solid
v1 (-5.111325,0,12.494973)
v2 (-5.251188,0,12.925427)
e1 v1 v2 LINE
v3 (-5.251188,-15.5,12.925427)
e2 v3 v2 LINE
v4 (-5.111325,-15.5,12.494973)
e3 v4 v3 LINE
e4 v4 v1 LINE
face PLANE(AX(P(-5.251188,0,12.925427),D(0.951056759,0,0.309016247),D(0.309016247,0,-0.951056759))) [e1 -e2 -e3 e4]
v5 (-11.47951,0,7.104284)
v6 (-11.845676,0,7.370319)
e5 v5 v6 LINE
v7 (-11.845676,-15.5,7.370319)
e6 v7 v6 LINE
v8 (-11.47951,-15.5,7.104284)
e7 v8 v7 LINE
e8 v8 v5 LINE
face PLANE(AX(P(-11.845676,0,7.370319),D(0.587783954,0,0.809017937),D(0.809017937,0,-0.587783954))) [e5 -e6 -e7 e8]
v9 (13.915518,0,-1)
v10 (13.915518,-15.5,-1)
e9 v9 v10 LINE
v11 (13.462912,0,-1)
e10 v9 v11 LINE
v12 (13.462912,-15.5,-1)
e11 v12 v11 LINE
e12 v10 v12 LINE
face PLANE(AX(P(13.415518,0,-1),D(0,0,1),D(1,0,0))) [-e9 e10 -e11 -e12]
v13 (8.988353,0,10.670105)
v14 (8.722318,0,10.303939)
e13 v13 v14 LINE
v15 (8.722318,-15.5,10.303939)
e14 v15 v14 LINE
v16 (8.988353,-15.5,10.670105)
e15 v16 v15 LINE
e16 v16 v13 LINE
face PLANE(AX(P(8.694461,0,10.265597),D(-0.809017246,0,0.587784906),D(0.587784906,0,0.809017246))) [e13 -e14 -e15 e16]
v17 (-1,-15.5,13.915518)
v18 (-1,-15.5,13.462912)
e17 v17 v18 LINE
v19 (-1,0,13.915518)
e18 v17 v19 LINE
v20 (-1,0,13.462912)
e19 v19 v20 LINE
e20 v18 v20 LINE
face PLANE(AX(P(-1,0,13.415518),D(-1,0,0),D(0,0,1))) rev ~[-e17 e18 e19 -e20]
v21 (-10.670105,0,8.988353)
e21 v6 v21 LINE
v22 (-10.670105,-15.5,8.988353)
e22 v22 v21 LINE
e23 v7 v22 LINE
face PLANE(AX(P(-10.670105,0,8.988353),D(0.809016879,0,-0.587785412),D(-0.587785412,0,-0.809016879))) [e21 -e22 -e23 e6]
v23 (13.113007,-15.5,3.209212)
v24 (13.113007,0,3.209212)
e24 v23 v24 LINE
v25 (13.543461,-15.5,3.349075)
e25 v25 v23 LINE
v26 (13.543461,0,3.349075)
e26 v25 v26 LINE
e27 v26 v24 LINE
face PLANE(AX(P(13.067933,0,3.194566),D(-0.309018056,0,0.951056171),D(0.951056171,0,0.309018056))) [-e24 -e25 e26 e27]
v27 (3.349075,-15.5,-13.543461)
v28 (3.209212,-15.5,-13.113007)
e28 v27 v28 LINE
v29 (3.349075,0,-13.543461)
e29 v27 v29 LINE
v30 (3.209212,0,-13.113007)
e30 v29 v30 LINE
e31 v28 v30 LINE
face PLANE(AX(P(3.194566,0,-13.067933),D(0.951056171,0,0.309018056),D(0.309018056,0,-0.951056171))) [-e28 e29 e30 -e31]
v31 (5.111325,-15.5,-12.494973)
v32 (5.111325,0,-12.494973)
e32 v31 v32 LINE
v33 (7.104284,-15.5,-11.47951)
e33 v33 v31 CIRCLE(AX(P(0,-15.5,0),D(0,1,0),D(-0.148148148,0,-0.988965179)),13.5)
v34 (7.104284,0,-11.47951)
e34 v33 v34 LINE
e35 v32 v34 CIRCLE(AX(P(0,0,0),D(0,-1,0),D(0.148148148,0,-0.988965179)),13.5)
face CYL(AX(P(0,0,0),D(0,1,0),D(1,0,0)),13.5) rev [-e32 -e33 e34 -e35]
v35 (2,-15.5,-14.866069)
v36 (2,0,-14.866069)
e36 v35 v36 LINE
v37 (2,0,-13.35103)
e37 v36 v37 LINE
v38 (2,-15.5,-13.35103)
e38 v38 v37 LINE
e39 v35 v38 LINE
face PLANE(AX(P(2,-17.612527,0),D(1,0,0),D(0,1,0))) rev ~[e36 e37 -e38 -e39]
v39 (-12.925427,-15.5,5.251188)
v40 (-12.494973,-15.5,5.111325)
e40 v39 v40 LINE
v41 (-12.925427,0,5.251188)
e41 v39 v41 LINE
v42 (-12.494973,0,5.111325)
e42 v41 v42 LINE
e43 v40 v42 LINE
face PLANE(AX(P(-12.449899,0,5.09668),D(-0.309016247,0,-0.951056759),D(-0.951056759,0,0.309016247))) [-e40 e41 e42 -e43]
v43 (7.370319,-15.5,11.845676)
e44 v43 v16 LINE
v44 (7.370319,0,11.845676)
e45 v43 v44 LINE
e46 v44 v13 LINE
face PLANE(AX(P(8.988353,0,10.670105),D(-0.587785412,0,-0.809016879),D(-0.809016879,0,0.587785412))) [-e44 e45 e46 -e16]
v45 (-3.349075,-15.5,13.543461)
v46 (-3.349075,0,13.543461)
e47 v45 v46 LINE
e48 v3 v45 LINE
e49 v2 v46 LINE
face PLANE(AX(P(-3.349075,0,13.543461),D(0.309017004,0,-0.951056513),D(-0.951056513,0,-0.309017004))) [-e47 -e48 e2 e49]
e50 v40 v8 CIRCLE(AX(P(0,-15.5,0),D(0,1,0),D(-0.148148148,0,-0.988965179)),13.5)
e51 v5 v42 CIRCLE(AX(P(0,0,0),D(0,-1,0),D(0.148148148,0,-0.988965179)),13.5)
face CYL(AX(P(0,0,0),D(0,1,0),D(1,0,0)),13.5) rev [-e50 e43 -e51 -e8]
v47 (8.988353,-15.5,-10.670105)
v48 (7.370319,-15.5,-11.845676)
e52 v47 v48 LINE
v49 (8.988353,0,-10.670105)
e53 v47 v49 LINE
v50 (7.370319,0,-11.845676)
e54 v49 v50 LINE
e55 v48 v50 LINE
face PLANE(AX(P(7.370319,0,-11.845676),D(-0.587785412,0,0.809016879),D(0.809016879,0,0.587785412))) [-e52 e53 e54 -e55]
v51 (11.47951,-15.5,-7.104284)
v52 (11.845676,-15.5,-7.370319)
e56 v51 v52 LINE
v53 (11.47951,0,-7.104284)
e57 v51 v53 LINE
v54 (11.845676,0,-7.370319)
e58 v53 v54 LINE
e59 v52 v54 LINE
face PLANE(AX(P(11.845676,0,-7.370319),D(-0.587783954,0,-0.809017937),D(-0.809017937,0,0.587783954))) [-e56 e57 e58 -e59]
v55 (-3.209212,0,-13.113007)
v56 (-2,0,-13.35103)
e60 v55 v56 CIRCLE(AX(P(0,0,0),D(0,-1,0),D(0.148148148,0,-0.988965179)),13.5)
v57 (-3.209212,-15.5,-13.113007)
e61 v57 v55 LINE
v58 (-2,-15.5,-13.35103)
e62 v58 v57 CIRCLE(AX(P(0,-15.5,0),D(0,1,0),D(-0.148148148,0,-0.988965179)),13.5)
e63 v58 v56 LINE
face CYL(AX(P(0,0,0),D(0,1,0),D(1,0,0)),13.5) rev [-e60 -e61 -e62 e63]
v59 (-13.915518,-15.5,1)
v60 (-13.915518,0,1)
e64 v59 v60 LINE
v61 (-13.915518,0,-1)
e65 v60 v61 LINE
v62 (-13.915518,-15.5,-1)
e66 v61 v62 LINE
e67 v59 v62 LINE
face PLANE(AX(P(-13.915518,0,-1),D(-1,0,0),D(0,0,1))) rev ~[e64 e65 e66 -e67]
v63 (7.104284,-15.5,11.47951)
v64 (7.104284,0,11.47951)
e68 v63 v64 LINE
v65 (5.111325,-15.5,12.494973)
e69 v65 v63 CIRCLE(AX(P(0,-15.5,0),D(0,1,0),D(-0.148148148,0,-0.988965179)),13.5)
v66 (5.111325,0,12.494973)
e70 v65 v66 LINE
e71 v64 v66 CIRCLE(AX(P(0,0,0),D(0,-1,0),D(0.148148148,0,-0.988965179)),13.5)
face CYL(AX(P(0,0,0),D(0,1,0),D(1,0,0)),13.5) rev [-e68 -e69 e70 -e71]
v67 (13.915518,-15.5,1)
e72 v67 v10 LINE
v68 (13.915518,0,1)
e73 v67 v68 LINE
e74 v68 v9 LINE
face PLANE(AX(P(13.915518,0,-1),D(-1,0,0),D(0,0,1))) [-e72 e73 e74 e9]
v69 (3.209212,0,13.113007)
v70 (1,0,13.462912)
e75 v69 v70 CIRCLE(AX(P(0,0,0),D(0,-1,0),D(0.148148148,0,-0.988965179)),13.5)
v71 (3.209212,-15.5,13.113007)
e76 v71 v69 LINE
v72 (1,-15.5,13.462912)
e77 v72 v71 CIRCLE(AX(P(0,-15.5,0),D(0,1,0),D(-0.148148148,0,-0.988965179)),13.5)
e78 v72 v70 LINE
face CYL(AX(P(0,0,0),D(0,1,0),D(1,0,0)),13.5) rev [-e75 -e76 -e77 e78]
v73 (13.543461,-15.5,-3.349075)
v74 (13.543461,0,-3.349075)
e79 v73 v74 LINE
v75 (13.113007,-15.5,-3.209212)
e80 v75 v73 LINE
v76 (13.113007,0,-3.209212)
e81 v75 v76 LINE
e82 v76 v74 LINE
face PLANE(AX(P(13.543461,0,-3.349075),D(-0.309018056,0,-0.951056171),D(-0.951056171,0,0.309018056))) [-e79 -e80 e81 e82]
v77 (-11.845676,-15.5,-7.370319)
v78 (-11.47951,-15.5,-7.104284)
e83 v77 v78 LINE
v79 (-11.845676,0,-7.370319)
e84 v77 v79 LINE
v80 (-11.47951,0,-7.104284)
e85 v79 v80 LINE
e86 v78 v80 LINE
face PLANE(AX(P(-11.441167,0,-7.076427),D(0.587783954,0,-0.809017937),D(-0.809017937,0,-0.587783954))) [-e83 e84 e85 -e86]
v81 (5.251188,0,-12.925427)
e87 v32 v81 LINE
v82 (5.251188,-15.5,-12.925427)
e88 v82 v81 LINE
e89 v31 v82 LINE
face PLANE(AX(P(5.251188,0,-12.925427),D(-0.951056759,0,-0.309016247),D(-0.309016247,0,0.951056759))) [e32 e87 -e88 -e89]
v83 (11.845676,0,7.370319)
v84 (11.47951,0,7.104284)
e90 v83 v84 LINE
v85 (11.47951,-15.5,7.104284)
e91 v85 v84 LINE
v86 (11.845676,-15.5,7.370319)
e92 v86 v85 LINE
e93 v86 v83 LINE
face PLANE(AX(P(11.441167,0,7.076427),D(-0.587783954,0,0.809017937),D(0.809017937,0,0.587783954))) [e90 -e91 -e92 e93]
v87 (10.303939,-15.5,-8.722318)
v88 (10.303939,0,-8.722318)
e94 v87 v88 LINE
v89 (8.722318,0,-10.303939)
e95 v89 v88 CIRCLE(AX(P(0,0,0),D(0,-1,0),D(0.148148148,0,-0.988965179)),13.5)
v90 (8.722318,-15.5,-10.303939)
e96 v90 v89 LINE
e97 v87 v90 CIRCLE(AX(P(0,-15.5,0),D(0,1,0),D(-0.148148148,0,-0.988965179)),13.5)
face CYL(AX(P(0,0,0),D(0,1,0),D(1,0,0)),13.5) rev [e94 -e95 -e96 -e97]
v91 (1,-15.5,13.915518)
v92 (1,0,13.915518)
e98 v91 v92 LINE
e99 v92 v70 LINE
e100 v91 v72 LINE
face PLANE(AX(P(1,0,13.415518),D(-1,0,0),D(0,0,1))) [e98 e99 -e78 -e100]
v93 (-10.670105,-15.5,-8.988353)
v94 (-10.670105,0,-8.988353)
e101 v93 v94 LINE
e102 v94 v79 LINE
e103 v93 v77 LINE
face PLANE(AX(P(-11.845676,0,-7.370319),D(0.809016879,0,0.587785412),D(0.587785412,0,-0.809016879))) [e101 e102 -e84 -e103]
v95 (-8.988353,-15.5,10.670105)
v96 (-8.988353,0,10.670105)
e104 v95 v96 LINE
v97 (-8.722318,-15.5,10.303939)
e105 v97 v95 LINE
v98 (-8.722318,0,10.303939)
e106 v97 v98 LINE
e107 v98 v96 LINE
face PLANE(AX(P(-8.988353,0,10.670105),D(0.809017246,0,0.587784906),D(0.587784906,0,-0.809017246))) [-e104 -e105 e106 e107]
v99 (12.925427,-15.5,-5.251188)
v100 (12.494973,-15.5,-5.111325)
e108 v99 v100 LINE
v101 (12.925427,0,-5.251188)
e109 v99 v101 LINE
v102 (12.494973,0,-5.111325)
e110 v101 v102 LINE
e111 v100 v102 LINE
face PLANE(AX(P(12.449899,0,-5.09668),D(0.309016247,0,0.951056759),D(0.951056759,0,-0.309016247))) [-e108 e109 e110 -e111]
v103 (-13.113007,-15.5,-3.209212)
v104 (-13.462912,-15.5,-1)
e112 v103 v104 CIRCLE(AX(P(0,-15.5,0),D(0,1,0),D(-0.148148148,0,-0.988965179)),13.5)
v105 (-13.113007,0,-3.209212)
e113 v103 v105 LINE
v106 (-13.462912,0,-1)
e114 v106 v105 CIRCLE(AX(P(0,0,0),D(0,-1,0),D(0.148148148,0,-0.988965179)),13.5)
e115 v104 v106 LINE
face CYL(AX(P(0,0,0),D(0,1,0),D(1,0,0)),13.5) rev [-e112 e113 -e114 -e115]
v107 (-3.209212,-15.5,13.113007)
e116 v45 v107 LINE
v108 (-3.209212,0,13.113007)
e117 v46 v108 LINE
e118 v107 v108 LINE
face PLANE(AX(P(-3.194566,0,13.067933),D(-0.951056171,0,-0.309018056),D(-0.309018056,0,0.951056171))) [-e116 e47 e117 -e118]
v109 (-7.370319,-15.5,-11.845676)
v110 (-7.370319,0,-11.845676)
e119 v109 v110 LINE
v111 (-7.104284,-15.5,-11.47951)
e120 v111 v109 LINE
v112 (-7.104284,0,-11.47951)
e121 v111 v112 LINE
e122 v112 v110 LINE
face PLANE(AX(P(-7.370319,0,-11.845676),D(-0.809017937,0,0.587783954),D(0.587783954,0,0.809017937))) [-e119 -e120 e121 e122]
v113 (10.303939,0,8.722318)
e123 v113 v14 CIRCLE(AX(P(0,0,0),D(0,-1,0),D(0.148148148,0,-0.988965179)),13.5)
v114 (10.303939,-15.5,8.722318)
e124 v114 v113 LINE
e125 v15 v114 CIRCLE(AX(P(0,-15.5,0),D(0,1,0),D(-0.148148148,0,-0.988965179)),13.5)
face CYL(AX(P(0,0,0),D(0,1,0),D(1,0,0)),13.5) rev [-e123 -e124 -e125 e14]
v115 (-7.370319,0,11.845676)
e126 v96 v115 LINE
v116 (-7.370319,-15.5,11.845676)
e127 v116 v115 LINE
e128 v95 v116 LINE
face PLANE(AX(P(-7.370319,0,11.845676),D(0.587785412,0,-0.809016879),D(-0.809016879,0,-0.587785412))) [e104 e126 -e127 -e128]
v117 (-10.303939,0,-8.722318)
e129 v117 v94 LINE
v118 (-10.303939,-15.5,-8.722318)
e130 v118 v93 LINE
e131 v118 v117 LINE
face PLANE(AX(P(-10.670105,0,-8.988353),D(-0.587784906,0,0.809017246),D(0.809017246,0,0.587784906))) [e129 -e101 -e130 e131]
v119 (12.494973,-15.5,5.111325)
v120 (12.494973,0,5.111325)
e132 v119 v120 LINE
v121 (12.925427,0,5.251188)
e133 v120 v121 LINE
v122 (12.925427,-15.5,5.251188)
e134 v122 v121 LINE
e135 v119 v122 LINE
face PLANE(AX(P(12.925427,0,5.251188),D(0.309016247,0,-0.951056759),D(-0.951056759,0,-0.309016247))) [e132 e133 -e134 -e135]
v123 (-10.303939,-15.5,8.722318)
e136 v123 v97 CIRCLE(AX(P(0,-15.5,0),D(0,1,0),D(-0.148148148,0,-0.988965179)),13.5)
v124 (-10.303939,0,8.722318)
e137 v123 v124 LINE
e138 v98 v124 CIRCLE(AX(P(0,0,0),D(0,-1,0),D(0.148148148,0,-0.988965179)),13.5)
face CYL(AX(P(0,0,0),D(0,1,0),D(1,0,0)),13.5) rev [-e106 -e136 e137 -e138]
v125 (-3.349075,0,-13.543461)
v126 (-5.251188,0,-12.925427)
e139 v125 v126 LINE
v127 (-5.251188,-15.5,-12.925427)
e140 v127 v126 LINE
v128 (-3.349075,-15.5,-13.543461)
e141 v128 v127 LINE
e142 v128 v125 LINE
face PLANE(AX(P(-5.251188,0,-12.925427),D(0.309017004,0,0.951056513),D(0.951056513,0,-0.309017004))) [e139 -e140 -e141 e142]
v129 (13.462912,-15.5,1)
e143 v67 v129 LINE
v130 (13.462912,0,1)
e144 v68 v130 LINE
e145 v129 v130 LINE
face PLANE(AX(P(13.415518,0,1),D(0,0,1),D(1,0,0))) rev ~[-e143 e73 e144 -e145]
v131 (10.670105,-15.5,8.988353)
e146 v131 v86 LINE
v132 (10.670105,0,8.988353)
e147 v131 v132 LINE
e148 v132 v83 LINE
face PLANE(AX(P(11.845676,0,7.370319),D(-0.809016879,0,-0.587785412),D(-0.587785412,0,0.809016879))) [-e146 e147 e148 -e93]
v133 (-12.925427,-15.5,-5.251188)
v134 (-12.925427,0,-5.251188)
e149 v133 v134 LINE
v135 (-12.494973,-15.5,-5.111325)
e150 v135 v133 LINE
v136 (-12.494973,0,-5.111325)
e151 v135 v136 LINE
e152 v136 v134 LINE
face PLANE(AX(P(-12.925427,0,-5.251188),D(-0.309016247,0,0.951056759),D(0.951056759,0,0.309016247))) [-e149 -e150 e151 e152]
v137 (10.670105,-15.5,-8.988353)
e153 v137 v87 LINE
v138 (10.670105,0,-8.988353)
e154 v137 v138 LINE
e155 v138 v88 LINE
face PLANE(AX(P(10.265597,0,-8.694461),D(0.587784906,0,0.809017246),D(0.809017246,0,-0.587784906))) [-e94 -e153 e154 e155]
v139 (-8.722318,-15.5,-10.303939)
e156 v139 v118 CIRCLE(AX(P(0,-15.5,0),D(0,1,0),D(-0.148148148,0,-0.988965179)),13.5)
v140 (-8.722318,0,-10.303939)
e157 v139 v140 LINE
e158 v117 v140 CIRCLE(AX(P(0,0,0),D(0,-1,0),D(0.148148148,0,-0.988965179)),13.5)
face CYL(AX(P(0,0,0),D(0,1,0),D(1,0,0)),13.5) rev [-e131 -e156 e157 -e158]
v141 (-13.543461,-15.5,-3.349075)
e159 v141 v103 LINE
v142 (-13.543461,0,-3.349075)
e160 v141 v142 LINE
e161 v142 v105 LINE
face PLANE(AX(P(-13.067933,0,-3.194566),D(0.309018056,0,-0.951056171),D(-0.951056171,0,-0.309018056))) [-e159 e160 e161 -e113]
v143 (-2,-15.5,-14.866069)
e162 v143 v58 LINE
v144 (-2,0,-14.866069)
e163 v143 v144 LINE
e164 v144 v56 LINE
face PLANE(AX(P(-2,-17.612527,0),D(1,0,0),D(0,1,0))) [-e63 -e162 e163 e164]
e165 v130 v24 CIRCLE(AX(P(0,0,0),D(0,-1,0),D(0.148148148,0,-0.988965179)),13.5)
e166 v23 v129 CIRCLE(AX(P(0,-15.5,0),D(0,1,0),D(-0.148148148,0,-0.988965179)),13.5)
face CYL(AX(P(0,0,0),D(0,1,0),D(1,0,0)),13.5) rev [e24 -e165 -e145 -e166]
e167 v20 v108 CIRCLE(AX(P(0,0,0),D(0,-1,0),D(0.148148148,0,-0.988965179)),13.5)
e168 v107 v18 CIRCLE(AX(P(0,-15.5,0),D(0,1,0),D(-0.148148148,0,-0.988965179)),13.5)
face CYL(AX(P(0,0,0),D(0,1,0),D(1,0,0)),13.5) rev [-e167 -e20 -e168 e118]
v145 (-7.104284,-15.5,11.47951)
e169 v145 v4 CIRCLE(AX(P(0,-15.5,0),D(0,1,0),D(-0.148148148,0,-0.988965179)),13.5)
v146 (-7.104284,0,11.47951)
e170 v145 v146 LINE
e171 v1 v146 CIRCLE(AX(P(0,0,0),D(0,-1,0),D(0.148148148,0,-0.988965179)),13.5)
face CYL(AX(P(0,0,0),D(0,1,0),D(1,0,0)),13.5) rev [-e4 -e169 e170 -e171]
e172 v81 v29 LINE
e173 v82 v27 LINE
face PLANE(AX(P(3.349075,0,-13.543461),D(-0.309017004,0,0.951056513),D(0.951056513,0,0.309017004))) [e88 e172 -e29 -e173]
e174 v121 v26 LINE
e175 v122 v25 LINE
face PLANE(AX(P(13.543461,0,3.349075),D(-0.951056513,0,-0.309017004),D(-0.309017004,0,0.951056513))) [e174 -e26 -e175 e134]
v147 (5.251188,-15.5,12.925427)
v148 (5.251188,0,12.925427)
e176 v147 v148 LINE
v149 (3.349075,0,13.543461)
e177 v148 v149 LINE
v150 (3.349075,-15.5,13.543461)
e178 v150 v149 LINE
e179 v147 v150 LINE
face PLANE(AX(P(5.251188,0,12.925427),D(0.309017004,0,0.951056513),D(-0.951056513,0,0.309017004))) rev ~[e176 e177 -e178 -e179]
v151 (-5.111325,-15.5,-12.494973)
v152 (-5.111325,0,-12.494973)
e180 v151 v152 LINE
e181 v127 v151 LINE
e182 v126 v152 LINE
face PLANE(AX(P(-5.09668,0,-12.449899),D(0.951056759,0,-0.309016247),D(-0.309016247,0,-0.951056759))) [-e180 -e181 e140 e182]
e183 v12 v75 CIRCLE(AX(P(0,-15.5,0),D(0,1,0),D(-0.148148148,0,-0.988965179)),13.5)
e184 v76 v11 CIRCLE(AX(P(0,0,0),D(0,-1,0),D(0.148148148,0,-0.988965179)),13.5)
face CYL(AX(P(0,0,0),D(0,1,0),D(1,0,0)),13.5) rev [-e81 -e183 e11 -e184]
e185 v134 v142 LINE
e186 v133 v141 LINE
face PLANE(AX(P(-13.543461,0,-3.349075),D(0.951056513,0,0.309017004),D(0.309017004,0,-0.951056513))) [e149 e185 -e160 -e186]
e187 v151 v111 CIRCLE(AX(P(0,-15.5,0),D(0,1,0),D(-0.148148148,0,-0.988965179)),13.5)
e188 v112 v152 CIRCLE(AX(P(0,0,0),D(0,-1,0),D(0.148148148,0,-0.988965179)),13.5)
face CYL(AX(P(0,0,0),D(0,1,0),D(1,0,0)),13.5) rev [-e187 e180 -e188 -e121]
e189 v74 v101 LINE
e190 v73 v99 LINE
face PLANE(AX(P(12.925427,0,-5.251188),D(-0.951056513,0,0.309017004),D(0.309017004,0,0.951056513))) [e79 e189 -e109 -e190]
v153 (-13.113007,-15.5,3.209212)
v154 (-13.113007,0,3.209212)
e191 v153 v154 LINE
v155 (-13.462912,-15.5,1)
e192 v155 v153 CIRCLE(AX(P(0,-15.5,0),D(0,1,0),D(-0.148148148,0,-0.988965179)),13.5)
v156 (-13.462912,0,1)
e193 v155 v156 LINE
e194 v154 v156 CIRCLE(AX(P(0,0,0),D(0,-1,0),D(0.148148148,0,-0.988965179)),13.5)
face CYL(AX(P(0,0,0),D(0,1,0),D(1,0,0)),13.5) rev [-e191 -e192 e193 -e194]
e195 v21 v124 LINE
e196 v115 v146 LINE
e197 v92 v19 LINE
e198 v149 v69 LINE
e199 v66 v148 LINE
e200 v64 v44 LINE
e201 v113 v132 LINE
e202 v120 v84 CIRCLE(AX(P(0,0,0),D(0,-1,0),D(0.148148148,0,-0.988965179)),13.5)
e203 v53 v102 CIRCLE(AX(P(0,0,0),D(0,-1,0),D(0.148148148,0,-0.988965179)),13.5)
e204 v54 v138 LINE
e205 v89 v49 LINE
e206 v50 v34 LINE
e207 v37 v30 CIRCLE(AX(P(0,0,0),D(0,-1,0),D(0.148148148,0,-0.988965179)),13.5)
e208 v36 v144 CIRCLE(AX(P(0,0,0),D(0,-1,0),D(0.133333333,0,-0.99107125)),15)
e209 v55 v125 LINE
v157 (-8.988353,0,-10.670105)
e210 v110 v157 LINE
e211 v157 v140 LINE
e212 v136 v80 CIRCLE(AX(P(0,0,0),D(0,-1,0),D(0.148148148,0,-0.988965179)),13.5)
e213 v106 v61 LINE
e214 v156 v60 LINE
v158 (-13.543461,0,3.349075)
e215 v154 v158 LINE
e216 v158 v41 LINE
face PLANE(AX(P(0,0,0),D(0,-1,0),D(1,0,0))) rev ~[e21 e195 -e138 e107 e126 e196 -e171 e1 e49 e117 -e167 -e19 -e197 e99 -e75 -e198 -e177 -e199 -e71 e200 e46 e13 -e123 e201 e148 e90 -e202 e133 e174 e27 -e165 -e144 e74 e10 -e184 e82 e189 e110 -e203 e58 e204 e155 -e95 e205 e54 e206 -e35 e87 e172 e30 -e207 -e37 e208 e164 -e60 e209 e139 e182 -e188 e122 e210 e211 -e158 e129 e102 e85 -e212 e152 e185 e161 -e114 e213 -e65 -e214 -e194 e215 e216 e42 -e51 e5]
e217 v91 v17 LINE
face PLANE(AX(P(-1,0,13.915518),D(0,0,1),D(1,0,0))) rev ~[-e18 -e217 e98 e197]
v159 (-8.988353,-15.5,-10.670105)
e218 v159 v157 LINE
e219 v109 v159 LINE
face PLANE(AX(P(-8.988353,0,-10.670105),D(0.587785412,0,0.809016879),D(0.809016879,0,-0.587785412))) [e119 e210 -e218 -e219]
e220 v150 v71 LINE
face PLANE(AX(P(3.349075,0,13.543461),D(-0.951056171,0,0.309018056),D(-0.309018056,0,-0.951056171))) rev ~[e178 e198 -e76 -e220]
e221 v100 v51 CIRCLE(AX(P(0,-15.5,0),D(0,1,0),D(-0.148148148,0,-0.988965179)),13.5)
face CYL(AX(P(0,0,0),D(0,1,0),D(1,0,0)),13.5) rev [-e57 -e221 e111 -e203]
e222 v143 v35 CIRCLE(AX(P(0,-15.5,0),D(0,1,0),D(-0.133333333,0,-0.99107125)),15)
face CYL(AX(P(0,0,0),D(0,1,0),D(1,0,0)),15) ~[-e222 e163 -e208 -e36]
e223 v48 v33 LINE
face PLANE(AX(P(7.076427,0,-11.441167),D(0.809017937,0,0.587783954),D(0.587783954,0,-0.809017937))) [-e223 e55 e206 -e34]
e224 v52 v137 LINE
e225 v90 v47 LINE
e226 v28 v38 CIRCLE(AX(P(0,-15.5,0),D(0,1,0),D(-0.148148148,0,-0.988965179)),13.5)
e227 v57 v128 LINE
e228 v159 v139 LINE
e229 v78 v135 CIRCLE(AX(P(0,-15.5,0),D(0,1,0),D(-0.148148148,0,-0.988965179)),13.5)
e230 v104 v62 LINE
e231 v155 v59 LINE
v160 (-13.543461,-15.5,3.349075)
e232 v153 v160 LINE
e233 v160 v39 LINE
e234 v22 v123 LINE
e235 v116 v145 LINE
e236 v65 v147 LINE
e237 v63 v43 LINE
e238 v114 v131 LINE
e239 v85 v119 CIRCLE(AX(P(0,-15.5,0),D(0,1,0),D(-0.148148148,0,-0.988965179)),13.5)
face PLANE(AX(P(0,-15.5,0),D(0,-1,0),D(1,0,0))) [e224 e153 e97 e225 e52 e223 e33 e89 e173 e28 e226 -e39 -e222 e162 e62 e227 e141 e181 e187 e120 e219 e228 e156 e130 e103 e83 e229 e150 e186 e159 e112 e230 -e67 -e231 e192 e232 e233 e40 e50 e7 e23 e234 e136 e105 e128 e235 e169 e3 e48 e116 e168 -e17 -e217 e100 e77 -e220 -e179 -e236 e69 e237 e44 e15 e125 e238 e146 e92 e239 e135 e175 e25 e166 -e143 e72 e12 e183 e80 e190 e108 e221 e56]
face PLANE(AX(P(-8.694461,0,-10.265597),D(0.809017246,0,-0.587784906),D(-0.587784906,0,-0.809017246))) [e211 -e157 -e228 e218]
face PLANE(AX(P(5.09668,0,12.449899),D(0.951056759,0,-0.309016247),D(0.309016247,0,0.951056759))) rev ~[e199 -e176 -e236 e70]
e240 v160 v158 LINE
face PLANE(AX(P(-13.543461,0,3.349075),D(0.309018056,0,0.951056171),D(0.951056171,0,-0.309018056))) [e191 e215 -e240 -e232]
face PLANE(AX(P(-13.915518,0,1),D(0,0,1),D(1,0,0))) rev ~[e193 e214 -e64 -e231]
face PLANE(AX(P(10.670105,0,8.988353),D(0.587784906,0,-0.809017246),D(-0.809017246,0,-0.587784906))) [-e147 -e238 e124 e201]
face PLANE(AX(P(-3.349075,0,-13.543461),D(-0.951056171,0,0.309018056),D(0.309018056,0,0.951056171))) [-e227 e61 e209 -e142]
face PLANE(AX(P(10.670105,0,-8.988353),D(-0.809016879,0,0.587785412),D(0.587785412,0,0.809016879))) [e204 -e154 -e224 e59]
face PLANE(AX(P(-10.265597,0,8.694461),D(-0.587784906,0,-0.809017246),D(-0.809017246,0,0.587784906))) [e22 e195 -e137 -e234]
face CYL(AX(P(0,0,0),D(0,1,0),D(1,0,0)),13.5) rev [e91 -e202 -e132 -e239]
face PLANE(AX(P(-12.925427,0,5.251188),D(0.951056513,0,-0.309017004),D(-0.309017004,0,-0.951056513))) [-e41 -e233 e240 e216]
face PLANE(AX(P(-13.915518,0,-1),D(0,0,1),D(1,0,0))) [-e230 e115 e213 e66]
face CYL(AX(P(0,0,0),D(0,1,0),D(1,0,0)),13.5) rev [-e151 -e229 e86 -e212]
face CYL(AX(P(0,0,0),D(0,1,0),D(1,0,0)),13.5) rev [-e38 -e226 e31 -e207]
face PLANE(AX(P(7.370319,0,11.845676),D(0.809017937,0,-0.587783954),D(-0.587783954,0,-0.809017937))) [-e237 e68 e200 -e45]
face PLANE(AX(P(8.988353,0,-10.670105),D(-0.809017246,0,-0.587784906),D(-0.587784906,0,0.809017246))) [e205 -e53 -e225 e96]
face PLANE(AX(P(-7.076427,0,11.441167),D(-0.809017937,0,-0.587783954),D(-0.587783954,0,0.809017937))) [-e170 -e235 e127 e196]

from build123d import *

# Parameters (mm, degrees)
F0_R     = 15
F0_R_2   = 13.5
F1_DEPTH = 15.5
F2_W     = 4
F2_H     = 19.090906
F3_DEPTH = 25
F4_W     = 2
F4_H     = 0.5
F4_W_2   = 0.5
F4_H_2   = 2
F5_DEPTH = 25


with BuildPart() as f1:
    # F0 (on Front) → F1 (new body)
    with BuildSketch(Plane.XZ):
        Circle(F0_R)
        Circle(F0_R_2, mode=Mode.SUBTRACT)
    extrude(amount=F1_DEPTH)

    # F2 (on Top) → F3 (cut)
    with BuildSketch(Plane.XY):
        with Locations((0, -8.067074)):
            Rectangle(F2_W, F2_H)
    extrude(amount=-F3_DEPTH, mode=Mode.SUBTRACT)

    # F4 (on Front) → F5 (cut, symmetric)
    with BuildSketch(Plane.XZ):
        with Locations((0, 13.665518)):
            Rectangle(F4_W, F4_H)
        Polygon((-5.251188, 12.925427), (-5.09668, 12.449899), (-3.194566, 13.067933), (-3.349075, 13.543461), align=None)
        Polygon((-8.988353, 10.670105), (-8.694461, 10.265597), (-7.076427, 11.441167), (-7.370319, 11.845676), align=None)
        Polygon((-11.845676, 7.370319), (-11.441167, 7.076427), (-10.265597, 8.694461), (-10.670105, 8.988353), align=None)
        Polygon((-13.543461, 3.349075), (-13.067933, 3.194566), (-12.449899, 5.09668), (-12.925427, 5.251188), align=None)
        with Locations((-13.665518, 0)):
            Rectangle(F4_W_2, F4_H_2)
        Polygon((-12.925427, -5.251188), (-12.449899, -5.09668), (-13.067933, -3.194566), (-13.543461, -3.349075), align=None)
        Polygon((-10.670105, -8.988353), (-10.265597, -8.694461), (-11.441167, -7.076427), (-11.845676, -7.370319), align=None)
        Polygon((-7.370319, -11.845676), (-7.076427, -11.441167), (-8.694461, -10.265597), (-8.988353, -10.670105), align=None)
        Polygon((-3.349075, -13.543461), (-3.194566, -13.067933), (-5.09668, -12.449899), (-5.251188, -12.925427), align=None)
        with Locations((0, -13.665518)):
            Rectangle(F4_W, F4_H)
        Polygon((5.251188, -12.925427), (5.09668, -12.449899), (3.194566, -13.067933), (3.349075, -13.543461), align=None)
        Polygon((8.988353, -10.670105), (8.694461, -10.265597), (7.076427, -11.441167), (7.370319, -11.845676), align=None)
        Polygon((11.845676, -7.370319), (11.441167, -7.076427), (10.265597, -8.694461), (10.670105, -8.988353), align=None)
        Polygon((13.543461, -3.349075), (13.067933, -3.194566), (12.449899, -5.09668), (12.925427, -5.251188), align=None)
        with Locations((13.665518, 0)):
            Rectangle(F4_W_2, F4_H_2)
        Polygon((12.925427, 5.251188), (12.449899, 5.09668), (13.067933, 3.194566), (13.543461, 3.349075), align=None)
        Polygon((10.670105, 8.988353), (10.265597, 8.694461), (11.441167, 7.076427), (11.845676, 7.370319), align=None)
        Polygon((7.370319, 11.845676), (7.076427, 11.441167), (8.694461, 10.265597), (8.988353, 10.670105), align=None)
        Polygon((3.349075, 13.543461), (3.194566, 13.067933), (5.09668, 12.449899), (5.251188, 12.925427), align=None)
    extrude(amount=F5_DEPTH, both=True, mode=Mode.SUBTRACT)


solid = f1.part
